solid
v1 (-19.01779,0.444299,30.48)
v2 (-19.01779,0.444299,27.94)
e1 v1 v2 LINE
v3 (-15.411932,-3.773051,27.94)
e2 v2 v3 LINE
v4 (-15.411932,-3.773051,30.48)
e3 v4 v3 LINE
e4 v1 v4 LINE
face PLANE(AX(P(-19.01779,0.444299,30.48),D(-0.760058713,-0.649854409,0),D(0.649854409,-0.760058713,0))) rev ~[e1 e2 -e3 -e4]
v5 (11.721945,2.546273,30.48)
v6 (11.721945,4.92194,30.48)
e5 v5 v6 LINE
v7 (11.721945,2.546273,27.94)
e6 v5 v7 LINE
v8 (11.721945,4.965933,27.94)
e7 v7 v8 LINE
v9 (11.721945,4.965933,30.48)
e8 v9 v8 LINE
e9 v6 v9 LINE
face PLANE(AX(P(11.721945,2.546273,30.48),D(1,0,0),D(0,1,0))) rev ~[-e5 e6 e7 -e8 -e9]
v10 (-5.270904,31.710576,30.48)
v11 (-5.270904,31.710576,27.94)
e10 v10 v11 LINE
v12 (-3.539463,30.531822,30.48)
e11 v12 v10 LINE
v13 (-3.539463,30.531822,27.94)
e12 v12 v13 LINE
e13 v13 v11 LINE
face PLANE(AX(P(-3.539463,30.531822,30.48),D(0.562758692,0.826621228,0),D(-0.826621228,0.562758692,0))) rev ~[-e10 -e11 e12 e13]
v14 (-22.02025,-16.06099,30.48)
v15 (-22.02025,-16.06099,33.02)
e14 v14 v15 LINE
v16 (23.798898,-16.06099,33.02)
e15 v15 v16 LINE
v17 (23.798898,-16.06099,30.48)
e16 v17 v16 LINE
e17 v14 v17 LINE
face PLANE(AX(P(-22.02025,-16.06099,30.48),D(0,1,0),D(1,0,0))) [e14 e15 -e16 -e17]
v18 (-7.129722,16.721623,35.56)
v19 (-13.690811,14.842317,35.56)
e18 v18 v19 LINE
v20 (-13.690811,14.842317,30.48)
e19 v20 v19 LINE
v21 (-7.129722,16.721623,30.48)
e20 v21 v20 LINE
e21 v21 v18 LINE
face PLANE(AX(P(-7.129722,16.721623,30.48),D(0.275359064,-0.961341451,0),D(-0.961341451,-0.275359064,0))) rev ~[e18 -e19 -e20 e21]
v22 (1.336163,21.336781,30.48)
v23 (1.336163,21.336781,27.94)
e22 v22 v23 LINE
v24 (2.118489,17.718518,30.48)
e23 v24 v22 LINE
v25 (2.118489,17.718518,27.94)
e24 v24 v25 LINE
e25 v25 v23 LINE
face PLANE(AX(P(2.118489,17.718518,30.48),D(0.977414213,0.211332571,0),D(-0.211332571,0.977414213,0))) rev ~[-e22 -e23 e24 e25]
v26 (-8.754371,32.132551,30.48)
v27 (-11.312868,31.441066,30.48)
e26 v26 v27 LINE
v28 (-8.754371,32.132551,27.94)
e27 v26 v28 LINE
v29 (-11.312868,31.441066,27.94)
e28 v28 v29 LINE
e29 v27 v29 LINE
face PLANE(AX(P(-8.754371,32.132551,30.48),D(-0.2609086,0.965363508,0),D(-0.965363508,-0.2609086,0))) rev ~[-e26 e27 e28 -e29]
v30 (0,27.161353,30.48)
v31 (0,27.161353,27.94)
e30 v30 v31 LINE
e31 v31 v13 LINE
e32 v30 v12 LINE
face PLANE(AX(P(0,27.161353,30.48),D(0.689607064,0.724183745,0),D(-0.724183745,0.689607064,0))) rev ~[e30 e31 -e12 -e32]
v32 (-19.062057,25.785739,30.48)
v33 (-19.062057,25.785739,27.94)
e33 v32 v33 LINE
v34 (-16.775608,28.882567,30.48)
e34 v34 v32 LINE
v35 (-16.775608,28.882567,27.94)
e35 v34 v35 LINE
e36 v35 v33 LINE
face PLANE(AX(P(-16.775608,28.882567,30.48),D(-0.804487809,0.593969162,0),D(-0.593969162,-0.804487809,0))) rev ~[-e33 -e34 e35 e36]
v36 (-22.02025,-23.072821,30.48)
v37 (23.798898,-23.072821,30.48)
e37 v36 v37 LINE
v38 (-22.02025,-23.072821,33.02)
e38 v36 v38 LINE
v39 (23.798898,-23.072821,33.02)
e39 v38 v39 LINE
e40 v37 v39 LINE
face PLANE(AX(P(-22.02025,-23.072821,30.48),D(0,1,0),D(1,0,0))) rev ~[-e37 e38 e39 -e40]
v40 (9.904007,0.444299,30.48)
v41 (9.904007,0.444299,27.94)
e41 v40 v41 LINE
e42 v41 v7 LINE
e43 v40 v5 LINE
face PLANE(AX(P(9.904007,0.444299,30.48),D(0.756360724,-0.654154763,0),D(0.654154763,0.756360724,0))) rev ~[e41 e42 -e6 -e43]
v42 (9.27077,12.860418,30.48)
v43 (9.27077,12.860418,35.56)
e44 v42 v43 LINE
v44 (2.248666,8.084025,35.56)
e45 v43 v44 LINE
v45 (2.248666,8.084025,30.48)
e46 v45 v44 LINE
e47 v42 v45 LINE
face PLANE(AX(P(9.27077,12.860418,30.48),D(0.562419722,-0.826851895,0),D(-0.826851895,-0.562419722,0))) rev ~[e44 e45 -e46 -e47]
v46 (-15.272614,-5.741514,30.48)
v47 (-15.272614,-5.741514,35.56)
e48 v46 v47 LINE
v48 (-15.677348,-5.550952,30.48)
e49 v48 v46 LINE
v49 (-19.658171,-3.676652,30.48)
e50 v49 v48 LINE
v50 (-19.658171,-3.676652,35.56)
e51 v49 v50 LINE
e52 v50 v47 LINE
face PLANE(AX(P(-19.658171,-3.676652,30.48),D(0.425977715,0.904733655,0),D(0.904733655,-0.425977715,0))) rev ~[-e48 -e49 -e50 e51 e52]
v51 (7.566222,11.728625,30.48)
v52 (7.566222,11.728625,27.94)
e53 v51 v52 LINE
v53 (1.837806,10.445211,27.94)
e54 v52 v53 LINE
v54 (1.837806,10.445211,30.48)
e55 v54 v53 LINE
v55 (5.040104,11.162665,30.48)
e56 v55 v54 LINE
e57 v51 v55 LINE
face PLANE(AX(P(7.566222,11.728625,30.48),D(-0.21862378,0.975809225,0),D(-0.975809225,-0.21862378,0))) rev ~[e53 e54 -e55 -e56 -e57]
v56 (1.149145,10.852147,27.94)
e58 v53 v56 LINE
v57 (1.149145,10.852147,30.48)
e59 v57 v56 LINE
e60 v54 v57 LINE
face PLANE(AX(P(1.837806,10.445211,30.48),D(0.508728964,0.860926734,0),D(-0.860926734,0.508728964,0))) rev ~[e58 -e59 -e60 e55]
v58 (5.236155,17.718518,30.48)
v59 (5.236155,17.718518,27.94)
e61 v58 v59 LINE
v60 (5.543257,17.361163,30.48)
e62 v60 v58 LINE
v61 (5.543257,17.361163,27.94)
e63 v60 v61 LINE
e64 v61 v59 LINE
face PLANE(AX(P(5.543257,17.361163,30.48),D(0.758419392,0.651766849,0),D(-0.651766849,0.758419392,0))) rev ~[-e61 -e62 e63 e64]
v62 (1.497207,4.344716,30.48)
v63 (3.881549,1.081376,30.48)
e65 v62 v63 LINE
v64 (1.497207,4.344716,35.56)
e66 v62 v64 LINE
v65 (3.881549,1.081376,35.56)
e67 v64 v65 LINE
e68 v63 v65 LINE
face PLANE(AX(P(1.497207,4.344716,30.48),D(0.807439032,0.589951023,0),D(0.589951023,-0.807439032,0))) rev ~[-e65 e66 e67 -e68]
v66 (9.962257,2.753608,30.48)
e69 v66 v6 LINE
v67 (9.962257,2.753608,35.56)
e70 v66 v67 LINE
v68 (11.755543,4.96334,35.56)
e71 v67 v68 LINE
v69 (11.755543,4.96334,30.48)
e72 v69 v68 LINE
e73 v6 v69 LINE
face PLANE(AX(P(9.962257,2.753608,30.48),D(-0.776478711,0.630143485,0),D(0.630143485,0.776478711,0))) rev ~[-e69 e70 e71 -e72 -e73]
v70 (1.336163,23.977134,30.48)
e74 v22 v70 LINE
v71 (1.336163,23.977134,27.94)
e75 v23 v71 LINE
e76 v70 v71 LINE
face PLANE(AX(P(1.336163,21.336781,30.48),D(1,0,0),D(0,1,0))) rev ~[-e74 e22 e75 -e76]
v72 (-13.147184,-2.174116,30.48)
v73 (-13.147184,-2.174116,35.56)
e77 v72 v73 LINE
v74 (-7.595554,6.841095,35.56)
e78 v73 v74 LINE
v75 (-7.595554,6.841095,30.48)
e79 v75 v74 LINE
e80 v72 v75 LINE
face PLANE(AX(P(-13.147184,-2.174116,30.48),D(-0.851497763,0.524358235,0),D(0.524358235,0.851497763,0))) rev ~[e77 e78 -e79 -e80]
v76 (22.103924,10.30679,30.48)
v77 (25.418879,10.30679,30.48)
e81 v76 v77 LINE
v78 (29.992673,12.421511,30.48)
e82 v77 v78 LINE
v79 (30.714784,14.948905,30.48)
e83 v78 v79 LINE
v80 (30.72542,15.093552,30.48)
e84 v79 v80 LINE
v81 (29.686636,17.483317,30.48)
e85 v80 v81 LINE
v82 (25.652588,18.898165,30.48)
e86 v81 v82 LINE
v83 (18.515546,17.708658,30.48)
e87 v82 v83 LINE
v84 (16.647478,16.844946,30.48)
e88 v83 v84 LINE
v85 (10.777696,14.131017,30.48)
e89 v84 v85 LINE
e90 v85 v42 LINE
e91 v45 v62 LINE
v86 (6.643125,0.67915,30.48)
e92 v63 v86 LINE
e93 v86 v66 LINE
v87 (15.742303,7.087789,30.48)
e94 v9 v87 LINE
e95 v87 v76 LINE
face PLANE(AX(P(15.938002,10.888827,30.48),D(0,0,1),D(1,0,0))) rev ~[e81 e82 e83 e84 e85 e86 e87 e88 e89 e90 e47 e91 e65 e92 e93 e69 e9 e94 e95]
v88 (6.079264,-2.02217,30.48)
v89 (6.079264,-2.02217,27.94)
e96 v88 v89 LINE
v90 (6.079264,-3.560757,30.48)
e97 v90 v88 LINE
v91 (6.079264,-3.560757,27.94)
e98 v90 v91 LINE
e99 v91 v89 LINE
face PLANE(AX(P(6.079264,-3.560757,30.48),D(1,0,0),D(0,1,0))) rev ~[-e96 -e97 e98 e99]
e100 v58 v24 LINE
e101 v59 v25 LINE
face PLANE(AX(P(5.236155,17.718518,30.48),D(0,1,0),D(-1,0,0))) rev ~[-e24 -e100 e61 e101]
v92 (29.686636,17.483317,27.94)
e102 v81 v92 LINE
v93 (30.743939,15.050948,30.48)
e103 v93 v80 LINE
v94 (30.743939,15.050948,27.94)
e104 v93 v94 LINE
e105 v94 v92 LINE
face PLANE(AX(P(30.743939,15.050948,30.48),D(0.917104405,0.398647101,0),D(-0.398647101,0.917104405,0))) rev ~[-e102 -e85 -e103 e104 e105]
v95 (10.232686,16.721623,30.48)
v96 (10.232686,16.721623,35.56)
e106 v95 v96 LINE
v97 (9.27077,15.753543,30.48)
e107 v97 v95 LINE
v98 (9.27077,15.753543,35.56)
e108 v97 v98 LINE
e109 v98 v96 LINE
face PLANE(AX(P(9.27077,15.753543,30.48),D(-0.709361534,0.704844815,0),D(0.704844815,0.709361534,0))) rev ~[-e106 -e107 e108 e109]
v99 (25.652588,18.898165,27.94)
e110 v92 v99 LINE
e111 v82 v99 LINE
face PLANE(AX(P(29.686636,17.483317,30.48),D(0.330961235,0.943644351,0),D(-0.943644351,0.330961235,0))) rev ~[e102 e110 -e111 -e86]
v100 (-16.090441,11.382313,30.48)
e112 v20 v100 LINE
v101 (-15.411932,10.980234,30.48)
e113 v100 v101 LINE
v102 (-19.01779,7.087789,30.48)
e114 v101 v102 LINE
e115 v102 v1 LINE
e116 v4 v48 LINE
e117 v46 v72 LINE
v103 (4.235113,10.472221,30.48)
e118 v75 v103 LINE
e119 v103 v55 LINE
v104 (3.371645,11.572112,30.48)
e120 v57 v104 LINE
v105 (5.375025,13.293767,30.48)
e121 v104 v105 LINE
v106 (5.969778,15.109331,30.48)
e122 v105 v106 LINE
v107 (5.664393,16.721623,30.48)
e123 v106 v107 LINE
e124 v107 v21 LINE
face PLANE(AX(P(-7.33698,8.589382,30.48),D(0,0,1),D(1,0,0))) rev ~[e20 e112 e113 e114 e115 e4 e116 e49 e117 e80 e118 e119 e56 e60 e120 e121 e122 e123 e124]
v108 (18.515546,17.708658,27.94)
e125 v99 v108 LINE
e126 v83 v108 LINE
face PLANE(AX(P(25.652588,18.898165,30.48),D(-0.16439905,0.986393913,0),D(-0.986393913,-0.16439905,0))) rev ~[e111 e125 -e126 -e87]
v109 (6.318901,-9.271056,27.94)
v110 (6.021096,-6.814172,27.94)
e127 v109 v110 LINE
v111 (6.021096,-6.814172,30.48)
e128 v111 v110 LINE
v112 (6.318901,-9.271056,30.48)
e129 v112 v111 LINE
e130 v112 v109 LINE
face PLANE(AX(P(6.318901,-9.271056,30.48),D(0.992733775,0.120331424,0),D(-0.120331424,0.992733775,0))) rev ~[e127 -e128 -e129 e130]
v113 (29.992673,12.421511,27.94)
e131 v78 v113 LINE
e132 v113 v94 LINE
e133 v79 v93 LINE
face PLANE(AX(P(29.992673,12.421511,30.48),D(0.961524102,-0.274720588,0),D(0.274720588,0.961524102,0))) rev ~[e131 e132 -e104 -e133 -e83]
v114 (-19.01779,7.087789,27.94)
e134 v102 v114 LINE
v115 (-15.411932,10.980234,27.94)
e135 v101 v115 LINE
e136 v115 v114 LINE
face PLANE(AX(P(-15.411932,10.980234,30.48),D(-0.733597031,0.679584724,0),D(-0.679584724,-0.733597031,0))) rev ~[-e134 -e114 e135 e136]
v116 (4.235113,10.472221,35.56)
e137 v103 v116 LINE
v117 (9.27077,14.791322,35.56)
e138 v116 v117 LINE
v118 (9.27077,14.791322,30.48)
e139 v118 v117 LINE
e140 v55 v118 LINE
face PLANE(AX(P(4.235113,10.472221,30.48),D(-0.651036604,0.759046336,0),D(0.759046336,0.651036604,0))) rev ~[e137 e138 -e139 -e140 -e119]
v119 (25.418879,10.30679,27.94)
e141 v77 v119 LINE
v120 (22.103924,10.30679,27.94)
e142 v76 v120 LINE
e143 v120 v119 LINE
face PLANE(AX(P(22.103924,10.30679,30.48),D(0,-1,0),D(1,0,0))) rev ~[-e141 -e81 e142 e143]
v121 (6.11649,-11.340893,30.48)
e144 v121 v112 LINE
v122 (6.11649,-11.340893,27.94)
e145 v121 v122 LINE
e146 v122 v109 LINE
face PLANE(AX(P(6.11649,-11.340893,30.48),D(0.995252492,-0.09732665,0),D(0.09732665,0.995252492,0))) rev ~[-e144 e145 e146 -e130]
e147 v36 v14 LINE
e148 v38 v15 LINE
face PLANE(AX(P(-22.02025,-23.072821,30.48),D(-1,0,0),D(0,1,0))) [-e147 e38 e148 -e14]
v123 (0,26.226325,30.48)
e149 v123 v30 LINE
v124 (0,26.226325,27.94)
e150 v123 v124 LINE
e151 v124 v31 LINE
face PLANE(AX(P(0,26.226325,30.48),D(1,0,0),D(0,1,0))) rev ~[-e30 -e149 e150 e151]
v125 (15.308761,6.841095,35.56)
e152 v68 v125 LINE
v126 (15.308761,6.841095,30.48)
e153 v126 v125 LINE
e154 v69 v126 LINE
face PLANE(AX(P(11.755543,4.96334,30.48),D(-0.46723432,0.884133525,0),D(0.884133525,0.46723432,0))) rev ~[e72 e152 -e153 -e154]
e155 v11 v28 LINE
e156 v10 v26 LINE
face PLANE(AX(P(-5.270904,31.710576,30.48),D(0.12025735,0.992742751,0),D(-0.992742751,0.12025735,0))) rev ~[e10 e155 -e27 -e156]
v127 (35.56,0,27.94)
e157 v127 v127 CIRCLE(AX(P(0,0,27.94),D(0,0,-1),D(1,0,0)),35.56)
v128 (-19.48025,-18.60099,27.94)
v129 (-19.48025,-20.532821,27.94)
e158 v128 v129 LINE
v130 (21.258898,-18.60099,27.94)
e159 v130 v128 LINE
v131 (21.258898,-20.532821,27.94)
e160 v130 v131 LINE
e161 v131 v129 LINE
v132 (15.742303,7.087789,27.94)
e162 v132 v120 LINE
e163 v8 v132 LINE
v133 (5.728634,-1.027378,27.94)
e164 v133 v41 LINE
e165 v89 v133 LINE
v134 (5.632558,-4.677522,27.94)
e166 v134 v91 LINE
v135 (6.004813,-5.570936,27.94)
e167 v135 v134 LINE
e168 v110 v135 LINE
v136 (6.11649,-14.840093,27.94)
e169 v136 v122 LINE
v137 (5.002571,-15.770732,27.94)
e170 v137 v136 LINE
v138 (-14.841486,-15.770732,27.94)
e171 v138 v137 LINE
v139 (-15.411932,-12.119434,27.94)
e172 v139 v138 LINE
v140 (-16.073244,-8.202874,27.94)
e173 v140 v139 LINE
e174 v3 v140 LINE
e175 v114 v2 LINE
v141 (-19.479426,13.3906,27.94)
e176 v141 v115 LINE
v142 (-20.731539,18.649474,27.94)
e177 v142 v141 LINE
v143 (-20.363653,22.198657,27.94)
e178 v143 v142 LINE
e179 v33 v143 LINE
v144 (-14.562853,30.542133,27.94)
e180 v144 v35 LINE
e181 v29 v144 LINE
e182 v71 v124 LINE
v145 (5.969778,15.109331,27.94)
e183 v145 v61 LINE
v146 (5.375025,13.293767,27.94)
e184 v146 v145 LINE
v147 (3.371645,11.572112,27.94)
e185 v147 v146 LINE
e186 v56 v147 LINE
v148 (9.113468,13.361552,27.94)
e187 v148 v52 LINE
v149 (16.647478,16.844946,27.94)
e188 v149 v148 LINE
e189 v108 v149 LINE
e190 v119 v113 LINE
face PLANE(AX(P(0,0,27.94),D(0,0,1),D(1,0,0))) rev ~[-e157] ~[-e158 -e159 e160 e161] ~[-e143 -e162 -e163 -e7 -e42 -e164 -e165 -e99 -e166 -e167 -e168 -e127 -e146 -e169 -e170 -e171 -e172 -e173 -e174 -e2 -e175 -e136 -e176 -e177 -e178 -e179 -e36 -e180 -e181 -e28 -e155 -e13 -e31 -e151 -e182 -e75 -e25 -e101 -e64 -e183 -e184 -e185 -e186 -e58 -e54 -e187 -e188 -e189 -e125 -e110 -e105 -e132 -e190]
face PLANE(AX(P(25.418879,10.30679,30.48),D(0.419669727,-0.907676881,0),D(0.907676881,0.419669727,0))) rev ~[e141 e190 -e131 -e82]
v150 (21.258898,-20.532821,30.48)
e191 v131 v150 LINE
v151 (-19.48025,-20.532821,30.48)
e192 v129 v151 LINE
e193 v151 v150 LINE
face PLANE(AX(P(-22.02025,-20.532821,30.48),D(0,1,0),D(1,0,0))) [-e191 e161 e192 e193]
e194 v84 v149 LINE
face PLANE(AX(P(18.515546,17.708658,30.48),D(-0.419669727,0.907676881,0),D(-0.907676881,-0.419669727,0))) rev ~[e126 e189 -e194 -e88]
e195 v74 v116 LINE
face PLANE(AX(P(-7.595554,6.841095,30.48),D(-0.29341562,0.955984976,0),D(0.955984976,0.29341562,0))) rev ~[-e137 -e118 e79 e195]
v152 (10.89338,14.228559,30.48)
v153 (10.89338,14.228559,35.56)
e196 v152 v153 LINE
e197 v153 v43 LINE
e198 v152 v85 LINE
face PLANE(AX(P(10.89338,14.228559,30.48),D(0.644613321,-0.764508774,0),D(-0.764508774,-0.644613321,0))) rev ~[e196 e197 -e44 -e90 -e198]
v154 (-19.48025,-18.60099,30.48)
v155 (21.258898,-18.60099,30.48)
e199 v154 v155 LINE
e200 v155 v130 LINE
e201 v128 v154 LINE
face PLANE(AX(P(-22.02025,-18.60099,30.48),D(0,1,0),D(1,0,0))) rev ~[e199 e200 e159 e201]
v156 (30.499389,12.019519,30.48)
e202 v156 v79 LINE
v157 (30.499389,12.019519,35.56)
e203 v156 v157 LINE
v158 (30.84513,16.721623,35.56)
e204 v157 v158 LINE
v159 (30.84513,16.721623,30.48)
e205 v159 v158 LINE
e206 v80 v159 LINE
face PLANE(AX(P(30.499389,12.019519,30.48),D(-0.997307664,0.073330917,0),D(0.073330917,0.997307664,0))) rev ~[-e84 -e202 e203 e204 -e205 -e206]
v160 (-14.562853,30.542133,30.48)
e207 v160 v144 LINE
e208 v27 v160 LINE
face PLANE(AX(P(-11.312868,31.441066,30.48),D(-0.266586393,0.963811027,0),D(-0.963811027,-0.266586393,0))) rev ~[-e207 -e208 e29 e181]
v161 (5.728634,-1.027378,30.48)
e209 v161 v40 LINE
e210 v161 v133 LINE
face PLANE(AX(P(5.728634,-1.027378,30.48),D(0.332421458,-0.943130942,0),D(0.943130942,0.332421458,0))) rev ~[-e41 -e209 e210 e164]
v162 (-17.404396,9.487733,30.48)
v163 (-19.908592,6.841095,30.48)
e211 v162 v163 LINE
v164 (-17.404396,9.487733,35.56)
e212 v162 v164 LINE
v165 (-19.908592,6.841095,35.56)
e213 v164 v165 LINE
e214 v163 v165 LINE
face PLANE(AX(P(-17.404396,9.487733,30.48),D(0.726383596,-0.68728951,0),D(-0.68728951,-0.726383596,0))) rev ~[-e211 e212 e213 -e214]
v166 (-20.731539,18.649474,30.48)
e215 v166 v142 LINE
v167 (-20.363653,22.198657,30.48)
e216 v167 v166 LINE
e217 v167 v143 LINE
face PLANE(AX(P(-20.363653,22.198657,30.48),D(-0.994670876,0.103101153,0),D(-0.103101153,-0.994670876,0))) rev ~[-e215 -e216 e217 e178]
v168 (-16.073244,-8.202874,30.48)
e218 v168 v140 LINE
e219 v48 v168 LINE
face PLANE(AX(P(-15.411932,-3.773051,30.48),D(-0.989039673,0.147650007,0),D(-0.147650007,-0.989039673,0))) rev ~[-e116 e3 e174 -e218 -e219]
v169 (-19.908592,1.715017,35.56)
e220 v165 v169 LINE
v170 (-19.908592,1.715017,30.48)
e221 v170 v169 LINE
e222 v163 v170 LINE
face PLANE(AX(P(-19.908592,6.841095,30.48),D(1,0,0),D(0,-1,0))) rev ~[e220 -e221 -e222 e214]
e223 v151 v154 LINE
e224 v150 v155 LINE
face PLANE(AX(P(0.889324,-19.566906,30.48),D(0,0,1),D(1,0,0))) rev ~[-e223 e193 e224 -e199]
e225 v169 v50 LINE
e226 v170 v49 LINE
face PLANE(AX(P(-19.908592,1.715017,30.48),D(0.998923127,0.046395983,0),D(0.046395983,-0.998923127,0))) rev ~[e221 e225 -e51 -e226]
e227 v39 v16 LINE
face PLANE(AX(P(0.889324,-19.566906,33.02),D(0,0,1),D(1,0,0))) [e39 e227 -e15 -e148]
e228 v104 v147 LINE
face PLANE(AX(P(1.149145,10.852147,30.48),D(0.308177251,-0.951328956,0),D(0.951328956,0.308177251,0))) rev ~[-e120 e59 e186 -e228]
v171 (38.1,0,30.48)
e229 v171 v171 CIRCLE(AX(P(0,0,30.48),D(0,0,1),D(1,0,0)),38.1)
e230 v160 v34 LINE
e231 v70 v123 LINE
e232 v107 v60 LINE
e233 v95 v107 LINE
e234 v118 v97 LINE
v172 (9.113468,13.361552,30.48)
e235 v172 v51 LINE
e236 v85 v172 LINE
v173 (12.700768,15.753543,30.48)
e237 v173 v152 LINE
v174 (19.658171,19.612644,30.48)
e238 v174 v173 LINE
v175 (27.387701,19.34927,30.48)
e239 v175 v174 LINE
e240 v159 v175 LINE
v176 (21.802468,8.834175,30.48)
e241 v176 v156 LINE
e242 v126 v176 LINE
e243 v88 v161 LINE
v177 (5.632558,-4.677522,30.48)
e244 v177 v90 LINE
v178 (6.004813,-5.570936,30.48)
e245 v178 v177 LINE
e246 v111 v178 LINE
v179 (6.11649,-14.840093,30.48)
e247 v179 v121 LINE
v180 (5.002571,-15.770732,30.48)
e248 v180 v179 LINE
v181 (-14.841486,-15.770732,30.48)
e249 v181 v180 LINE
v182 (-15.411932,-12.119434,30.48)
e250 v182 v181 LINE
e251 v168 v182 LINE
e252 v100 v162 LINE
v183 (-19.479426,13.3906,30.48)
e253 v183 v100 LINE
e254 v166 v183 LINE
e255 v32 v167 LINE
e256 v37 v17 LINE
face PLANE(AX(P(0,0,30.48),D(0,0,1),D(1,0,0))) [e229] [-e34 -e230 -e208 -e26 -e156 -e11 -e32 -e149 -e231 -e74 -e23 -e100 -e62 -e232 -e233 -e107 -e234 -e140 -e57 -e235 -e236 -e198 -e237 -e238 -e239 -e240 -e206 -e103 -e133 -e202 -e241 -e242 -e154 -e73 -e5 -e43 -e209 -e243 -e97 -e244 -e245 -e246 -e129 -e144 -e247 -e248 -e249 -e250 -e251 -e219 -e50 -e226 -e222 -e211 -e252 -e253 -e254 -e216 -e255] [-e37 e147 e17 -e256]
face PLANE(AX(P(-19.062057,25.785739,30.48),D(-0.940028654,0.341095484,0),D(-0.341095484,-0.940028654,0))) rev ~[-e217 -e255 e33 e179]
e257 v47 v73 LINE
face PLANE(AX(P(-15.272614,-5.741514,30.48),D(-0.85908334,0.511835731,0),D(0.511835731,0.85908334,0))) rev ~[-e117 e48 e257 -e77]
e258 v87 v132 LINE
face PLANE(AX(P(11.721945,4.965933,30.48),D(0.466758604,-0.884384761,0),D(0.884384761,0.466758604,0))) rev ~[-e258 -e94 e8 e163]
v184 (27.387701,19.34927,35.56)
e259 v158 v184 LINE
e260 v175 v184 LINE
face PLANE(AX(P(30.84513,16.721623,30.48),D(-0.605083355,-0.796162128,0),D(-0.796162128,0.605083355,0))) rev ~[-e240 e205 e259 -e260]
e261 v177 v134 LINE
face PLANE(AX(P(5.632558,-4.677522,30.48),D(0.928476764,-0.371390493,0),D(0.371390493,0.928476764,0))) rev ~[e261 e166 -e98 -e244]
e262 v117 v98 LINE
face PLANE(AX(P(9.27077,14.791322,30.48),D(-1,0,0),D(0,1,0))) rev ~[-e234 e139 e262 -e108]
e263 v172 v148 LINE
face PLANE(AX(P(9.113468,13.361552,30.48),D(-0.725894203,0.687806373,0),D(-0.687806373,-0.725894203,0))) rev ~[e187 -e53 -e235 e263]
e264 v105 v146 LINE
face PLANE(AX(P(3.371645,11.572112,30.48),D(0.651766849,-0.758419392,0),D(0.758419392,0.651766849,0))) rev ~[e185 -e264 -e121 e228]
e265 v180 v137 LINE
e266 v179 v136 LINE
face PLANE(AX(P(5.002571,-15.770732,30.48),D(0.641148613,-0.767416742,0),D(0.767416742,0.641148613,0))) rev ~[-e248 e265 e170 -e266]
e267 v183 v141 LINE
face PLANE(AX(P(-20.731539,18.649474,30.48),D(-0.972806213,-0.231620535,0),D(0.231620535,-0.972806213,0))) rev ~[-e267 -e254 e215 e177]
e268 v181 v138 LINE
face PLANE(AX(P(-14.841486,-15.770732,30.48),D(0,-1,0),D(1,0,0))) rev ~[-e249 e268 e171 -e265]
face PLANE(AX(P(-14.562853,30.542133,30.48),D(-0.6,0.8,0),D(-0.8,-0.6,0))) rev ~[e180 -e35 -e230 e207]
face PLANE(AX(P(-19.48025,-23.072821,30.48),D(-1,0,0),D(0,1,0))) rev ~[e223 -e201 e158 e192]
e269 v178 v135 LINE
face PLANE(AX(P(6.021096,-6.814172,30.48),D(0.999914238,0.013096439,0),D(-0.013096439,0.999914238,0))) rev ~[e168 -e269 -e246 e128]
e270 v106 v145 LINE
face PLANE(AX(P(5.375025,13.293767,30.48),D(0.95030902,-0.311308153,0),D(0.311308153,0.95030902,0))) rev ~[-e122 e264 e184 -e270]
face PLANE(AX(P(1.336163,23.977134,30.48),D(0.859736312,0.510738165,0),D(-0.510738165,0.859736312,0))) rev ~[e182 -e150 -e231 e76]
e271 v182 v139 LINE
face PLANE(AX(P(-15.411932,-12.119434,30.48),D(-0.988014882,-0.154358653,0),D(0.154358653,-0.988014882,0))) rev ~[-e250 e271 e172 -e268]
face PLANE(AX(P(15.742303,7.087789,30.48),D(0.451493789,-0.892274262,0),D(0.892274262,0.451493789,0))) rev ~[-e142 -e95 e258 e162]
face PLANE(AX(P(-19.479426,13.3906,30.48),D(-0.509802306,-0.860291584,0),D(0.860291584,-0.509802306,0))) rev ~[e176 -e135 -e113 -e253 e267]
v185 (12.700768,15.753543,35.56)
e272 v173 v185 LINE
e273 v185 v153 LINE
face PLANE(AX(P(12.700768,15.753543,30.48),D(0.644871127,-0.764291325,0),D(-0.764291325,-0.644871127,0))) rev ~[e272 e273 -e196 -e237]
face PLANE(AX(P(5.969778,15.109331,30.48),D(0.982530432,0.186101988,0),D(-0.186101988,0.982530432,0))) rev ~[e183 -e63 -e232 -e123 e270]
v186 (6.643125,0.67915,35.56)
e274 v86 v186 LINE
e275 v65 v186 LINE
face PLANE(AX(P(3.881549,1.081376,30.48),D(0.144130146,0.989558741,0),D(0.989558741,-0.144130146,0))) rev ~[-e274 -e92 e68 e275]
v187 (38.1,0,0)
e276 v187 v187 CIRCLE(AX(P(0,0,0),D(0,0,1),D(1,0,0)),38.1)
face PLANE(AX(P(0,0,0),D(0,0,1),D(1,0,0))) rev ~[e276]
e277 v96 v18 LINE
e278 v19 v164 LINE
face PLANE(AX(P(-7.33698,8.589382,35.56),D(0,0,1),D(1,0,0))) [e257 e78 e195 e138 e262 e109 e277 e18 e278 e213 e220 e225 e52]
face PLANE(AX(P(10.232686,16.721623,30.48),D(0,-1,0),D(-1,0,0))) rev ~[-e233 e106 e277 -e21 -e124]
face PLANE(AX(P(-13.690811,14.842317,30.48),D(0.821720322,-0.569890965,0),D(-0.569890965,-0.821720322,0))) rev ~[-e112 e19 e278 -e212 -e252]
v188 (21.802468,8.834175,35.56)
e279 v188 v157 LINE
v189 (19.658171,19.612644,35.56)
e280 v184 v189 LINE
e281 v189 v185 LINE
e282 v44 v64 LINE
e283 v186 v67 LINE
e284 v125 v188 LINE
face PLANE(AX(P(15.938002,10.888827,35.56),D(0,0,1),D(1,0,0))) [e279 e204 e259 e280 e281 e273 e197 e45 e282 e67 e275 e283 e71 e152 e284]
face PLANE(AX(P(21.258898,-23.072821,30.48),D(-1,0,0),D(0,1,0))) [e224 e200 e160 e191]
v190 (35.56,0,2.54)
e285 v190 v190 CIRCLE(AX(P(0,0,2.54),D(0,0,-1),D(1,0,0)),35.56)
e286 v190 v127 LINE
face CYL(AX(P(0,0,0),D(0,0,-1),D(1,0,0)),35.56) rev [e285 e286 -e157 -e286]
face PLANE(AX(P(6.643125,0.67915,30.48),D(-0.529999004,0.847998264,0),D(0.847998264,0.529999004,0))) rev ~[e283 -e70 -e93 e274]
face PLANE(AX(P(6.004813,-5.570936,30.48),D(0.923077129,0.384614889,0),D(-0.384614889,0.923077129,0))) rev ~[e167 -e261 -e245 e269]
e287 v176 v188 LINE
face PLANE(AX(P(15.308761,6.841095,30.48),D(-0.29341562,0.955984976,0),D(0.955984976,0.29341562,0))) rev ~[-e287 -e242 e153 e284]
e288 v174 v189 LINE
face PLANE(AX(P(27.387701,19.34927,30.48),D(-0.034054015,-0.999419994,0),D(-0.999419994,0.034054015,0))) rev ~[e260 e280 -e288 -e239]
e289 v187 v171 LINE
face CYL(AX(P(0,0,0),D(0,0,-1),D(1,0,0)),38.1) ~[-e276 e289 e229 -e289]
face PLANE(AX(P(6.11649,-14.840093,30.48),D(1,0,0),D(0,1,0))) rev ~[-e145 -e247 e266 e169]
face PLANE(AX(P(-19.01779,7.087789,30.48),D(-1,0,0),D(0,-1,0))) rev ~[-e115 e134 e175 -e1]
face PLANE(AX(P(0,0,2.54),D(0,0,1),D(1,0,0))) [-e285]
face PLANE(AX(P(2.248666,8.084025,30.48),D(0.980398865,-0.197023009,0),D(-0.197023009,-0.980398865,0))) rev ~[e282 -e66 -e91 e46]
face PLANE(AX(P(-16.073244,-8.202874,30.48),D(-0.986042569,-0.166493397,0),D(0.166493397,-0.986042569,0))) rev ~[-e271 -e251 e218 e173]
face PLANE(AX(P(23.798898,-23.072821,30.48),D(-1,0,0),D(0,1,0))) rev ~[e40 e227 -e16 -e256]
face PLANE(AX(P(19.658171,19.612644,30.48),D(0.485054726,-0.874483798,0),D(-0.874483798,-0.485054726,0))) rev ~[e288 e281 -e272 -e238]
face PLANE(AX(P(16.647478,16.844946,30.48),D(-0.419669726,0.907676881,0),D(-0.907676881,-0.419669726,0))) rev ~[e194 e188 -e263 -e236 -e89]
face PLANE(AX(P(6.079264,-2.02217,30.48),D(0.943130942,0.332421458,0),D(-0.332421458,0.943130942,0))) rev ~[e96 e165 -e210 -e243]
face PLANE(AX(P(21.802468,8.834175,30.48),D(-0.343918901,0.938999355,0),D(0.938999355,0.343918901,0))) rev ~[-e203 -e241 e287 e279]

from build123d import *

# Parameters (mm, degrees)
F0_R      = 38.1
F1_DEPTH  = 30.48
F2_W      = 45.819147911
F2_H      = 7.0118308067
F3_DEPTH  = 2.54
F4_T      = -2.54
F8_DEPTH  = 9.906
F10_DEPTH = 5.08


with BuildPart() as f1:
    # F0 (on Top) → F1 (new body)
    with BuildSketch(Plane.XY):
        Circle(F0_R)
    extrude(amount=F1_DEPTH)

    # F2 (on face) → F3 (join)
    with BuildSketch(Plane.XY.offset(30.48)):
        with Locations((0.8893240733, -19.5669056848)):
            Rectangle(F2_W, F2_H)
    extrude(amount=F3_DEPTH)

    # F4 (hollow: no face is removed)
    offset(amount=F4_T, kind=Kind.INTERSECTION, mode=Mode.SUBTRACT)

    # F7 (on face) → F8 (cut)
    with BuildSketch(Plane.XY.offset(30.48)):
        Polygon((-15.4119321378, -12.1194338849), (-14.841485885, -15.7707315361), (5.0025711535, -15.7707315361), (6.1164895305, -14.8400934836), (6.1164895305, -11.340892916), (6.3189007342, -9.2710563913), (6.0210963711, -6.8141715601), (6.0048130108, -5.5709355934), (5.6325580226, -4.6775222713), (6.0792639852, -3.5607567247), (6.0792639852, -2.0221695727), (5.7286338997, -1.0273779467), (9.9040070724, 0.4442985472), (11.7219447857, 2.5462731296), (11.7219447857, 4.9659329975), (15.7423027558, 7.0877885023), (22.1039241878, 10.3067904288), (25.4188793848, 10.3067904288), (29.9926726737, 12.4215105659), (30.7439389297, 15.0509480497), (29.6866364668, 17.4833167877), (25.6525882866, 18.8981650481), (18.5155458163, 17.708657504), (16.6474783241, 16.844945549), (9.1134678884, 13.3615516624), (7.5662216179, 11.7286253879), (1.8378060551, 10.445210726), (1.149144816, 10.8521465371), (3.3716449027, 11.5721119727), (5.3750247236, 13.2937669913), (5.9697784957, 15.1093309904), (5.5432569709, 17.361162805), (5.2361546324, 17.7185181528), (2.1184887737, 17.7185181528), (1.3361625606, 21.336780861), (1.3361625606, 23.9771343768), (0, 26.2263249606), (0, 27.1613527107), (-3.5394631901, 30.5318216514), (-5.2709043957, 31.7105762661), (-8.7543707341, 32.132551074), (-11.3128684461, 31.4410664141), (-14.5628526807, 30.542133376), (-16.7756080627, 28.8825668395), (-19.0620572539, 25.78573856), (-20.3636531951, 22.1986565316), (-20.7315385342, 18.6494737864), (-19.479425624, 13.39059975), (-15.4119321378, 10.9802337791), (-19.0177896293, 7.0877885023), (-19.0177896293, 0.4442985472), (-15.4119321378, -3.7730513141), (-16.0732436925, -8.2028741017), align=None)
    extrude(amount=-F8_DEPTH, mode=Mode.SUBTRACT)

    # F9 (on face) → F10 (join)
    with BuildSketch(Plane.XY.offset(30.48)):
        Polygon((9.2707704753, 15.7535430044), (10.2326864312, 16.7216230184), (-7.1297219356, 16.7216230184), (-13.6908106506, 14.8423165083), (-17.4043960869, 9.4877332449), (-19.9085921049, 6.8410946988), (-19.9085921049, 1.7150167664), (-19.6581706405, -3.6766524427), (-15.2726136148, -5.7415137999), (-13.1471836939, -2.1741164383), (-7.5955540778, 6.8410946988), (4.2351128765, 10.4722213), (9.2707704753, 14.7913218218), align=None)
        Polygon((3.8815487642, 1.0813763365), (6.6431248561, 0.6791502237), (9.9622569978, 2.7536081616), (11.7555428296, 4.9633402377), (15.3087614144, 6.8410946988), (21.8024684188, 8.8341752525), (30.4993893951, 12.0195187628), (30.8451298624, 16.7216230184), (27.3877009749, 19.3492695689), (19.6581706405, 19.6126438677), (12.7007676991, 15.7535430044), (10.8933802694, 14.2285590991), (9.2707704753, 12.8604179814), (2.2486662492, 8.0840246186), (1.4972069766, 4.3447160861), align=None)
    extrude(amount=F10_DEPTH)


solid = f1.part
